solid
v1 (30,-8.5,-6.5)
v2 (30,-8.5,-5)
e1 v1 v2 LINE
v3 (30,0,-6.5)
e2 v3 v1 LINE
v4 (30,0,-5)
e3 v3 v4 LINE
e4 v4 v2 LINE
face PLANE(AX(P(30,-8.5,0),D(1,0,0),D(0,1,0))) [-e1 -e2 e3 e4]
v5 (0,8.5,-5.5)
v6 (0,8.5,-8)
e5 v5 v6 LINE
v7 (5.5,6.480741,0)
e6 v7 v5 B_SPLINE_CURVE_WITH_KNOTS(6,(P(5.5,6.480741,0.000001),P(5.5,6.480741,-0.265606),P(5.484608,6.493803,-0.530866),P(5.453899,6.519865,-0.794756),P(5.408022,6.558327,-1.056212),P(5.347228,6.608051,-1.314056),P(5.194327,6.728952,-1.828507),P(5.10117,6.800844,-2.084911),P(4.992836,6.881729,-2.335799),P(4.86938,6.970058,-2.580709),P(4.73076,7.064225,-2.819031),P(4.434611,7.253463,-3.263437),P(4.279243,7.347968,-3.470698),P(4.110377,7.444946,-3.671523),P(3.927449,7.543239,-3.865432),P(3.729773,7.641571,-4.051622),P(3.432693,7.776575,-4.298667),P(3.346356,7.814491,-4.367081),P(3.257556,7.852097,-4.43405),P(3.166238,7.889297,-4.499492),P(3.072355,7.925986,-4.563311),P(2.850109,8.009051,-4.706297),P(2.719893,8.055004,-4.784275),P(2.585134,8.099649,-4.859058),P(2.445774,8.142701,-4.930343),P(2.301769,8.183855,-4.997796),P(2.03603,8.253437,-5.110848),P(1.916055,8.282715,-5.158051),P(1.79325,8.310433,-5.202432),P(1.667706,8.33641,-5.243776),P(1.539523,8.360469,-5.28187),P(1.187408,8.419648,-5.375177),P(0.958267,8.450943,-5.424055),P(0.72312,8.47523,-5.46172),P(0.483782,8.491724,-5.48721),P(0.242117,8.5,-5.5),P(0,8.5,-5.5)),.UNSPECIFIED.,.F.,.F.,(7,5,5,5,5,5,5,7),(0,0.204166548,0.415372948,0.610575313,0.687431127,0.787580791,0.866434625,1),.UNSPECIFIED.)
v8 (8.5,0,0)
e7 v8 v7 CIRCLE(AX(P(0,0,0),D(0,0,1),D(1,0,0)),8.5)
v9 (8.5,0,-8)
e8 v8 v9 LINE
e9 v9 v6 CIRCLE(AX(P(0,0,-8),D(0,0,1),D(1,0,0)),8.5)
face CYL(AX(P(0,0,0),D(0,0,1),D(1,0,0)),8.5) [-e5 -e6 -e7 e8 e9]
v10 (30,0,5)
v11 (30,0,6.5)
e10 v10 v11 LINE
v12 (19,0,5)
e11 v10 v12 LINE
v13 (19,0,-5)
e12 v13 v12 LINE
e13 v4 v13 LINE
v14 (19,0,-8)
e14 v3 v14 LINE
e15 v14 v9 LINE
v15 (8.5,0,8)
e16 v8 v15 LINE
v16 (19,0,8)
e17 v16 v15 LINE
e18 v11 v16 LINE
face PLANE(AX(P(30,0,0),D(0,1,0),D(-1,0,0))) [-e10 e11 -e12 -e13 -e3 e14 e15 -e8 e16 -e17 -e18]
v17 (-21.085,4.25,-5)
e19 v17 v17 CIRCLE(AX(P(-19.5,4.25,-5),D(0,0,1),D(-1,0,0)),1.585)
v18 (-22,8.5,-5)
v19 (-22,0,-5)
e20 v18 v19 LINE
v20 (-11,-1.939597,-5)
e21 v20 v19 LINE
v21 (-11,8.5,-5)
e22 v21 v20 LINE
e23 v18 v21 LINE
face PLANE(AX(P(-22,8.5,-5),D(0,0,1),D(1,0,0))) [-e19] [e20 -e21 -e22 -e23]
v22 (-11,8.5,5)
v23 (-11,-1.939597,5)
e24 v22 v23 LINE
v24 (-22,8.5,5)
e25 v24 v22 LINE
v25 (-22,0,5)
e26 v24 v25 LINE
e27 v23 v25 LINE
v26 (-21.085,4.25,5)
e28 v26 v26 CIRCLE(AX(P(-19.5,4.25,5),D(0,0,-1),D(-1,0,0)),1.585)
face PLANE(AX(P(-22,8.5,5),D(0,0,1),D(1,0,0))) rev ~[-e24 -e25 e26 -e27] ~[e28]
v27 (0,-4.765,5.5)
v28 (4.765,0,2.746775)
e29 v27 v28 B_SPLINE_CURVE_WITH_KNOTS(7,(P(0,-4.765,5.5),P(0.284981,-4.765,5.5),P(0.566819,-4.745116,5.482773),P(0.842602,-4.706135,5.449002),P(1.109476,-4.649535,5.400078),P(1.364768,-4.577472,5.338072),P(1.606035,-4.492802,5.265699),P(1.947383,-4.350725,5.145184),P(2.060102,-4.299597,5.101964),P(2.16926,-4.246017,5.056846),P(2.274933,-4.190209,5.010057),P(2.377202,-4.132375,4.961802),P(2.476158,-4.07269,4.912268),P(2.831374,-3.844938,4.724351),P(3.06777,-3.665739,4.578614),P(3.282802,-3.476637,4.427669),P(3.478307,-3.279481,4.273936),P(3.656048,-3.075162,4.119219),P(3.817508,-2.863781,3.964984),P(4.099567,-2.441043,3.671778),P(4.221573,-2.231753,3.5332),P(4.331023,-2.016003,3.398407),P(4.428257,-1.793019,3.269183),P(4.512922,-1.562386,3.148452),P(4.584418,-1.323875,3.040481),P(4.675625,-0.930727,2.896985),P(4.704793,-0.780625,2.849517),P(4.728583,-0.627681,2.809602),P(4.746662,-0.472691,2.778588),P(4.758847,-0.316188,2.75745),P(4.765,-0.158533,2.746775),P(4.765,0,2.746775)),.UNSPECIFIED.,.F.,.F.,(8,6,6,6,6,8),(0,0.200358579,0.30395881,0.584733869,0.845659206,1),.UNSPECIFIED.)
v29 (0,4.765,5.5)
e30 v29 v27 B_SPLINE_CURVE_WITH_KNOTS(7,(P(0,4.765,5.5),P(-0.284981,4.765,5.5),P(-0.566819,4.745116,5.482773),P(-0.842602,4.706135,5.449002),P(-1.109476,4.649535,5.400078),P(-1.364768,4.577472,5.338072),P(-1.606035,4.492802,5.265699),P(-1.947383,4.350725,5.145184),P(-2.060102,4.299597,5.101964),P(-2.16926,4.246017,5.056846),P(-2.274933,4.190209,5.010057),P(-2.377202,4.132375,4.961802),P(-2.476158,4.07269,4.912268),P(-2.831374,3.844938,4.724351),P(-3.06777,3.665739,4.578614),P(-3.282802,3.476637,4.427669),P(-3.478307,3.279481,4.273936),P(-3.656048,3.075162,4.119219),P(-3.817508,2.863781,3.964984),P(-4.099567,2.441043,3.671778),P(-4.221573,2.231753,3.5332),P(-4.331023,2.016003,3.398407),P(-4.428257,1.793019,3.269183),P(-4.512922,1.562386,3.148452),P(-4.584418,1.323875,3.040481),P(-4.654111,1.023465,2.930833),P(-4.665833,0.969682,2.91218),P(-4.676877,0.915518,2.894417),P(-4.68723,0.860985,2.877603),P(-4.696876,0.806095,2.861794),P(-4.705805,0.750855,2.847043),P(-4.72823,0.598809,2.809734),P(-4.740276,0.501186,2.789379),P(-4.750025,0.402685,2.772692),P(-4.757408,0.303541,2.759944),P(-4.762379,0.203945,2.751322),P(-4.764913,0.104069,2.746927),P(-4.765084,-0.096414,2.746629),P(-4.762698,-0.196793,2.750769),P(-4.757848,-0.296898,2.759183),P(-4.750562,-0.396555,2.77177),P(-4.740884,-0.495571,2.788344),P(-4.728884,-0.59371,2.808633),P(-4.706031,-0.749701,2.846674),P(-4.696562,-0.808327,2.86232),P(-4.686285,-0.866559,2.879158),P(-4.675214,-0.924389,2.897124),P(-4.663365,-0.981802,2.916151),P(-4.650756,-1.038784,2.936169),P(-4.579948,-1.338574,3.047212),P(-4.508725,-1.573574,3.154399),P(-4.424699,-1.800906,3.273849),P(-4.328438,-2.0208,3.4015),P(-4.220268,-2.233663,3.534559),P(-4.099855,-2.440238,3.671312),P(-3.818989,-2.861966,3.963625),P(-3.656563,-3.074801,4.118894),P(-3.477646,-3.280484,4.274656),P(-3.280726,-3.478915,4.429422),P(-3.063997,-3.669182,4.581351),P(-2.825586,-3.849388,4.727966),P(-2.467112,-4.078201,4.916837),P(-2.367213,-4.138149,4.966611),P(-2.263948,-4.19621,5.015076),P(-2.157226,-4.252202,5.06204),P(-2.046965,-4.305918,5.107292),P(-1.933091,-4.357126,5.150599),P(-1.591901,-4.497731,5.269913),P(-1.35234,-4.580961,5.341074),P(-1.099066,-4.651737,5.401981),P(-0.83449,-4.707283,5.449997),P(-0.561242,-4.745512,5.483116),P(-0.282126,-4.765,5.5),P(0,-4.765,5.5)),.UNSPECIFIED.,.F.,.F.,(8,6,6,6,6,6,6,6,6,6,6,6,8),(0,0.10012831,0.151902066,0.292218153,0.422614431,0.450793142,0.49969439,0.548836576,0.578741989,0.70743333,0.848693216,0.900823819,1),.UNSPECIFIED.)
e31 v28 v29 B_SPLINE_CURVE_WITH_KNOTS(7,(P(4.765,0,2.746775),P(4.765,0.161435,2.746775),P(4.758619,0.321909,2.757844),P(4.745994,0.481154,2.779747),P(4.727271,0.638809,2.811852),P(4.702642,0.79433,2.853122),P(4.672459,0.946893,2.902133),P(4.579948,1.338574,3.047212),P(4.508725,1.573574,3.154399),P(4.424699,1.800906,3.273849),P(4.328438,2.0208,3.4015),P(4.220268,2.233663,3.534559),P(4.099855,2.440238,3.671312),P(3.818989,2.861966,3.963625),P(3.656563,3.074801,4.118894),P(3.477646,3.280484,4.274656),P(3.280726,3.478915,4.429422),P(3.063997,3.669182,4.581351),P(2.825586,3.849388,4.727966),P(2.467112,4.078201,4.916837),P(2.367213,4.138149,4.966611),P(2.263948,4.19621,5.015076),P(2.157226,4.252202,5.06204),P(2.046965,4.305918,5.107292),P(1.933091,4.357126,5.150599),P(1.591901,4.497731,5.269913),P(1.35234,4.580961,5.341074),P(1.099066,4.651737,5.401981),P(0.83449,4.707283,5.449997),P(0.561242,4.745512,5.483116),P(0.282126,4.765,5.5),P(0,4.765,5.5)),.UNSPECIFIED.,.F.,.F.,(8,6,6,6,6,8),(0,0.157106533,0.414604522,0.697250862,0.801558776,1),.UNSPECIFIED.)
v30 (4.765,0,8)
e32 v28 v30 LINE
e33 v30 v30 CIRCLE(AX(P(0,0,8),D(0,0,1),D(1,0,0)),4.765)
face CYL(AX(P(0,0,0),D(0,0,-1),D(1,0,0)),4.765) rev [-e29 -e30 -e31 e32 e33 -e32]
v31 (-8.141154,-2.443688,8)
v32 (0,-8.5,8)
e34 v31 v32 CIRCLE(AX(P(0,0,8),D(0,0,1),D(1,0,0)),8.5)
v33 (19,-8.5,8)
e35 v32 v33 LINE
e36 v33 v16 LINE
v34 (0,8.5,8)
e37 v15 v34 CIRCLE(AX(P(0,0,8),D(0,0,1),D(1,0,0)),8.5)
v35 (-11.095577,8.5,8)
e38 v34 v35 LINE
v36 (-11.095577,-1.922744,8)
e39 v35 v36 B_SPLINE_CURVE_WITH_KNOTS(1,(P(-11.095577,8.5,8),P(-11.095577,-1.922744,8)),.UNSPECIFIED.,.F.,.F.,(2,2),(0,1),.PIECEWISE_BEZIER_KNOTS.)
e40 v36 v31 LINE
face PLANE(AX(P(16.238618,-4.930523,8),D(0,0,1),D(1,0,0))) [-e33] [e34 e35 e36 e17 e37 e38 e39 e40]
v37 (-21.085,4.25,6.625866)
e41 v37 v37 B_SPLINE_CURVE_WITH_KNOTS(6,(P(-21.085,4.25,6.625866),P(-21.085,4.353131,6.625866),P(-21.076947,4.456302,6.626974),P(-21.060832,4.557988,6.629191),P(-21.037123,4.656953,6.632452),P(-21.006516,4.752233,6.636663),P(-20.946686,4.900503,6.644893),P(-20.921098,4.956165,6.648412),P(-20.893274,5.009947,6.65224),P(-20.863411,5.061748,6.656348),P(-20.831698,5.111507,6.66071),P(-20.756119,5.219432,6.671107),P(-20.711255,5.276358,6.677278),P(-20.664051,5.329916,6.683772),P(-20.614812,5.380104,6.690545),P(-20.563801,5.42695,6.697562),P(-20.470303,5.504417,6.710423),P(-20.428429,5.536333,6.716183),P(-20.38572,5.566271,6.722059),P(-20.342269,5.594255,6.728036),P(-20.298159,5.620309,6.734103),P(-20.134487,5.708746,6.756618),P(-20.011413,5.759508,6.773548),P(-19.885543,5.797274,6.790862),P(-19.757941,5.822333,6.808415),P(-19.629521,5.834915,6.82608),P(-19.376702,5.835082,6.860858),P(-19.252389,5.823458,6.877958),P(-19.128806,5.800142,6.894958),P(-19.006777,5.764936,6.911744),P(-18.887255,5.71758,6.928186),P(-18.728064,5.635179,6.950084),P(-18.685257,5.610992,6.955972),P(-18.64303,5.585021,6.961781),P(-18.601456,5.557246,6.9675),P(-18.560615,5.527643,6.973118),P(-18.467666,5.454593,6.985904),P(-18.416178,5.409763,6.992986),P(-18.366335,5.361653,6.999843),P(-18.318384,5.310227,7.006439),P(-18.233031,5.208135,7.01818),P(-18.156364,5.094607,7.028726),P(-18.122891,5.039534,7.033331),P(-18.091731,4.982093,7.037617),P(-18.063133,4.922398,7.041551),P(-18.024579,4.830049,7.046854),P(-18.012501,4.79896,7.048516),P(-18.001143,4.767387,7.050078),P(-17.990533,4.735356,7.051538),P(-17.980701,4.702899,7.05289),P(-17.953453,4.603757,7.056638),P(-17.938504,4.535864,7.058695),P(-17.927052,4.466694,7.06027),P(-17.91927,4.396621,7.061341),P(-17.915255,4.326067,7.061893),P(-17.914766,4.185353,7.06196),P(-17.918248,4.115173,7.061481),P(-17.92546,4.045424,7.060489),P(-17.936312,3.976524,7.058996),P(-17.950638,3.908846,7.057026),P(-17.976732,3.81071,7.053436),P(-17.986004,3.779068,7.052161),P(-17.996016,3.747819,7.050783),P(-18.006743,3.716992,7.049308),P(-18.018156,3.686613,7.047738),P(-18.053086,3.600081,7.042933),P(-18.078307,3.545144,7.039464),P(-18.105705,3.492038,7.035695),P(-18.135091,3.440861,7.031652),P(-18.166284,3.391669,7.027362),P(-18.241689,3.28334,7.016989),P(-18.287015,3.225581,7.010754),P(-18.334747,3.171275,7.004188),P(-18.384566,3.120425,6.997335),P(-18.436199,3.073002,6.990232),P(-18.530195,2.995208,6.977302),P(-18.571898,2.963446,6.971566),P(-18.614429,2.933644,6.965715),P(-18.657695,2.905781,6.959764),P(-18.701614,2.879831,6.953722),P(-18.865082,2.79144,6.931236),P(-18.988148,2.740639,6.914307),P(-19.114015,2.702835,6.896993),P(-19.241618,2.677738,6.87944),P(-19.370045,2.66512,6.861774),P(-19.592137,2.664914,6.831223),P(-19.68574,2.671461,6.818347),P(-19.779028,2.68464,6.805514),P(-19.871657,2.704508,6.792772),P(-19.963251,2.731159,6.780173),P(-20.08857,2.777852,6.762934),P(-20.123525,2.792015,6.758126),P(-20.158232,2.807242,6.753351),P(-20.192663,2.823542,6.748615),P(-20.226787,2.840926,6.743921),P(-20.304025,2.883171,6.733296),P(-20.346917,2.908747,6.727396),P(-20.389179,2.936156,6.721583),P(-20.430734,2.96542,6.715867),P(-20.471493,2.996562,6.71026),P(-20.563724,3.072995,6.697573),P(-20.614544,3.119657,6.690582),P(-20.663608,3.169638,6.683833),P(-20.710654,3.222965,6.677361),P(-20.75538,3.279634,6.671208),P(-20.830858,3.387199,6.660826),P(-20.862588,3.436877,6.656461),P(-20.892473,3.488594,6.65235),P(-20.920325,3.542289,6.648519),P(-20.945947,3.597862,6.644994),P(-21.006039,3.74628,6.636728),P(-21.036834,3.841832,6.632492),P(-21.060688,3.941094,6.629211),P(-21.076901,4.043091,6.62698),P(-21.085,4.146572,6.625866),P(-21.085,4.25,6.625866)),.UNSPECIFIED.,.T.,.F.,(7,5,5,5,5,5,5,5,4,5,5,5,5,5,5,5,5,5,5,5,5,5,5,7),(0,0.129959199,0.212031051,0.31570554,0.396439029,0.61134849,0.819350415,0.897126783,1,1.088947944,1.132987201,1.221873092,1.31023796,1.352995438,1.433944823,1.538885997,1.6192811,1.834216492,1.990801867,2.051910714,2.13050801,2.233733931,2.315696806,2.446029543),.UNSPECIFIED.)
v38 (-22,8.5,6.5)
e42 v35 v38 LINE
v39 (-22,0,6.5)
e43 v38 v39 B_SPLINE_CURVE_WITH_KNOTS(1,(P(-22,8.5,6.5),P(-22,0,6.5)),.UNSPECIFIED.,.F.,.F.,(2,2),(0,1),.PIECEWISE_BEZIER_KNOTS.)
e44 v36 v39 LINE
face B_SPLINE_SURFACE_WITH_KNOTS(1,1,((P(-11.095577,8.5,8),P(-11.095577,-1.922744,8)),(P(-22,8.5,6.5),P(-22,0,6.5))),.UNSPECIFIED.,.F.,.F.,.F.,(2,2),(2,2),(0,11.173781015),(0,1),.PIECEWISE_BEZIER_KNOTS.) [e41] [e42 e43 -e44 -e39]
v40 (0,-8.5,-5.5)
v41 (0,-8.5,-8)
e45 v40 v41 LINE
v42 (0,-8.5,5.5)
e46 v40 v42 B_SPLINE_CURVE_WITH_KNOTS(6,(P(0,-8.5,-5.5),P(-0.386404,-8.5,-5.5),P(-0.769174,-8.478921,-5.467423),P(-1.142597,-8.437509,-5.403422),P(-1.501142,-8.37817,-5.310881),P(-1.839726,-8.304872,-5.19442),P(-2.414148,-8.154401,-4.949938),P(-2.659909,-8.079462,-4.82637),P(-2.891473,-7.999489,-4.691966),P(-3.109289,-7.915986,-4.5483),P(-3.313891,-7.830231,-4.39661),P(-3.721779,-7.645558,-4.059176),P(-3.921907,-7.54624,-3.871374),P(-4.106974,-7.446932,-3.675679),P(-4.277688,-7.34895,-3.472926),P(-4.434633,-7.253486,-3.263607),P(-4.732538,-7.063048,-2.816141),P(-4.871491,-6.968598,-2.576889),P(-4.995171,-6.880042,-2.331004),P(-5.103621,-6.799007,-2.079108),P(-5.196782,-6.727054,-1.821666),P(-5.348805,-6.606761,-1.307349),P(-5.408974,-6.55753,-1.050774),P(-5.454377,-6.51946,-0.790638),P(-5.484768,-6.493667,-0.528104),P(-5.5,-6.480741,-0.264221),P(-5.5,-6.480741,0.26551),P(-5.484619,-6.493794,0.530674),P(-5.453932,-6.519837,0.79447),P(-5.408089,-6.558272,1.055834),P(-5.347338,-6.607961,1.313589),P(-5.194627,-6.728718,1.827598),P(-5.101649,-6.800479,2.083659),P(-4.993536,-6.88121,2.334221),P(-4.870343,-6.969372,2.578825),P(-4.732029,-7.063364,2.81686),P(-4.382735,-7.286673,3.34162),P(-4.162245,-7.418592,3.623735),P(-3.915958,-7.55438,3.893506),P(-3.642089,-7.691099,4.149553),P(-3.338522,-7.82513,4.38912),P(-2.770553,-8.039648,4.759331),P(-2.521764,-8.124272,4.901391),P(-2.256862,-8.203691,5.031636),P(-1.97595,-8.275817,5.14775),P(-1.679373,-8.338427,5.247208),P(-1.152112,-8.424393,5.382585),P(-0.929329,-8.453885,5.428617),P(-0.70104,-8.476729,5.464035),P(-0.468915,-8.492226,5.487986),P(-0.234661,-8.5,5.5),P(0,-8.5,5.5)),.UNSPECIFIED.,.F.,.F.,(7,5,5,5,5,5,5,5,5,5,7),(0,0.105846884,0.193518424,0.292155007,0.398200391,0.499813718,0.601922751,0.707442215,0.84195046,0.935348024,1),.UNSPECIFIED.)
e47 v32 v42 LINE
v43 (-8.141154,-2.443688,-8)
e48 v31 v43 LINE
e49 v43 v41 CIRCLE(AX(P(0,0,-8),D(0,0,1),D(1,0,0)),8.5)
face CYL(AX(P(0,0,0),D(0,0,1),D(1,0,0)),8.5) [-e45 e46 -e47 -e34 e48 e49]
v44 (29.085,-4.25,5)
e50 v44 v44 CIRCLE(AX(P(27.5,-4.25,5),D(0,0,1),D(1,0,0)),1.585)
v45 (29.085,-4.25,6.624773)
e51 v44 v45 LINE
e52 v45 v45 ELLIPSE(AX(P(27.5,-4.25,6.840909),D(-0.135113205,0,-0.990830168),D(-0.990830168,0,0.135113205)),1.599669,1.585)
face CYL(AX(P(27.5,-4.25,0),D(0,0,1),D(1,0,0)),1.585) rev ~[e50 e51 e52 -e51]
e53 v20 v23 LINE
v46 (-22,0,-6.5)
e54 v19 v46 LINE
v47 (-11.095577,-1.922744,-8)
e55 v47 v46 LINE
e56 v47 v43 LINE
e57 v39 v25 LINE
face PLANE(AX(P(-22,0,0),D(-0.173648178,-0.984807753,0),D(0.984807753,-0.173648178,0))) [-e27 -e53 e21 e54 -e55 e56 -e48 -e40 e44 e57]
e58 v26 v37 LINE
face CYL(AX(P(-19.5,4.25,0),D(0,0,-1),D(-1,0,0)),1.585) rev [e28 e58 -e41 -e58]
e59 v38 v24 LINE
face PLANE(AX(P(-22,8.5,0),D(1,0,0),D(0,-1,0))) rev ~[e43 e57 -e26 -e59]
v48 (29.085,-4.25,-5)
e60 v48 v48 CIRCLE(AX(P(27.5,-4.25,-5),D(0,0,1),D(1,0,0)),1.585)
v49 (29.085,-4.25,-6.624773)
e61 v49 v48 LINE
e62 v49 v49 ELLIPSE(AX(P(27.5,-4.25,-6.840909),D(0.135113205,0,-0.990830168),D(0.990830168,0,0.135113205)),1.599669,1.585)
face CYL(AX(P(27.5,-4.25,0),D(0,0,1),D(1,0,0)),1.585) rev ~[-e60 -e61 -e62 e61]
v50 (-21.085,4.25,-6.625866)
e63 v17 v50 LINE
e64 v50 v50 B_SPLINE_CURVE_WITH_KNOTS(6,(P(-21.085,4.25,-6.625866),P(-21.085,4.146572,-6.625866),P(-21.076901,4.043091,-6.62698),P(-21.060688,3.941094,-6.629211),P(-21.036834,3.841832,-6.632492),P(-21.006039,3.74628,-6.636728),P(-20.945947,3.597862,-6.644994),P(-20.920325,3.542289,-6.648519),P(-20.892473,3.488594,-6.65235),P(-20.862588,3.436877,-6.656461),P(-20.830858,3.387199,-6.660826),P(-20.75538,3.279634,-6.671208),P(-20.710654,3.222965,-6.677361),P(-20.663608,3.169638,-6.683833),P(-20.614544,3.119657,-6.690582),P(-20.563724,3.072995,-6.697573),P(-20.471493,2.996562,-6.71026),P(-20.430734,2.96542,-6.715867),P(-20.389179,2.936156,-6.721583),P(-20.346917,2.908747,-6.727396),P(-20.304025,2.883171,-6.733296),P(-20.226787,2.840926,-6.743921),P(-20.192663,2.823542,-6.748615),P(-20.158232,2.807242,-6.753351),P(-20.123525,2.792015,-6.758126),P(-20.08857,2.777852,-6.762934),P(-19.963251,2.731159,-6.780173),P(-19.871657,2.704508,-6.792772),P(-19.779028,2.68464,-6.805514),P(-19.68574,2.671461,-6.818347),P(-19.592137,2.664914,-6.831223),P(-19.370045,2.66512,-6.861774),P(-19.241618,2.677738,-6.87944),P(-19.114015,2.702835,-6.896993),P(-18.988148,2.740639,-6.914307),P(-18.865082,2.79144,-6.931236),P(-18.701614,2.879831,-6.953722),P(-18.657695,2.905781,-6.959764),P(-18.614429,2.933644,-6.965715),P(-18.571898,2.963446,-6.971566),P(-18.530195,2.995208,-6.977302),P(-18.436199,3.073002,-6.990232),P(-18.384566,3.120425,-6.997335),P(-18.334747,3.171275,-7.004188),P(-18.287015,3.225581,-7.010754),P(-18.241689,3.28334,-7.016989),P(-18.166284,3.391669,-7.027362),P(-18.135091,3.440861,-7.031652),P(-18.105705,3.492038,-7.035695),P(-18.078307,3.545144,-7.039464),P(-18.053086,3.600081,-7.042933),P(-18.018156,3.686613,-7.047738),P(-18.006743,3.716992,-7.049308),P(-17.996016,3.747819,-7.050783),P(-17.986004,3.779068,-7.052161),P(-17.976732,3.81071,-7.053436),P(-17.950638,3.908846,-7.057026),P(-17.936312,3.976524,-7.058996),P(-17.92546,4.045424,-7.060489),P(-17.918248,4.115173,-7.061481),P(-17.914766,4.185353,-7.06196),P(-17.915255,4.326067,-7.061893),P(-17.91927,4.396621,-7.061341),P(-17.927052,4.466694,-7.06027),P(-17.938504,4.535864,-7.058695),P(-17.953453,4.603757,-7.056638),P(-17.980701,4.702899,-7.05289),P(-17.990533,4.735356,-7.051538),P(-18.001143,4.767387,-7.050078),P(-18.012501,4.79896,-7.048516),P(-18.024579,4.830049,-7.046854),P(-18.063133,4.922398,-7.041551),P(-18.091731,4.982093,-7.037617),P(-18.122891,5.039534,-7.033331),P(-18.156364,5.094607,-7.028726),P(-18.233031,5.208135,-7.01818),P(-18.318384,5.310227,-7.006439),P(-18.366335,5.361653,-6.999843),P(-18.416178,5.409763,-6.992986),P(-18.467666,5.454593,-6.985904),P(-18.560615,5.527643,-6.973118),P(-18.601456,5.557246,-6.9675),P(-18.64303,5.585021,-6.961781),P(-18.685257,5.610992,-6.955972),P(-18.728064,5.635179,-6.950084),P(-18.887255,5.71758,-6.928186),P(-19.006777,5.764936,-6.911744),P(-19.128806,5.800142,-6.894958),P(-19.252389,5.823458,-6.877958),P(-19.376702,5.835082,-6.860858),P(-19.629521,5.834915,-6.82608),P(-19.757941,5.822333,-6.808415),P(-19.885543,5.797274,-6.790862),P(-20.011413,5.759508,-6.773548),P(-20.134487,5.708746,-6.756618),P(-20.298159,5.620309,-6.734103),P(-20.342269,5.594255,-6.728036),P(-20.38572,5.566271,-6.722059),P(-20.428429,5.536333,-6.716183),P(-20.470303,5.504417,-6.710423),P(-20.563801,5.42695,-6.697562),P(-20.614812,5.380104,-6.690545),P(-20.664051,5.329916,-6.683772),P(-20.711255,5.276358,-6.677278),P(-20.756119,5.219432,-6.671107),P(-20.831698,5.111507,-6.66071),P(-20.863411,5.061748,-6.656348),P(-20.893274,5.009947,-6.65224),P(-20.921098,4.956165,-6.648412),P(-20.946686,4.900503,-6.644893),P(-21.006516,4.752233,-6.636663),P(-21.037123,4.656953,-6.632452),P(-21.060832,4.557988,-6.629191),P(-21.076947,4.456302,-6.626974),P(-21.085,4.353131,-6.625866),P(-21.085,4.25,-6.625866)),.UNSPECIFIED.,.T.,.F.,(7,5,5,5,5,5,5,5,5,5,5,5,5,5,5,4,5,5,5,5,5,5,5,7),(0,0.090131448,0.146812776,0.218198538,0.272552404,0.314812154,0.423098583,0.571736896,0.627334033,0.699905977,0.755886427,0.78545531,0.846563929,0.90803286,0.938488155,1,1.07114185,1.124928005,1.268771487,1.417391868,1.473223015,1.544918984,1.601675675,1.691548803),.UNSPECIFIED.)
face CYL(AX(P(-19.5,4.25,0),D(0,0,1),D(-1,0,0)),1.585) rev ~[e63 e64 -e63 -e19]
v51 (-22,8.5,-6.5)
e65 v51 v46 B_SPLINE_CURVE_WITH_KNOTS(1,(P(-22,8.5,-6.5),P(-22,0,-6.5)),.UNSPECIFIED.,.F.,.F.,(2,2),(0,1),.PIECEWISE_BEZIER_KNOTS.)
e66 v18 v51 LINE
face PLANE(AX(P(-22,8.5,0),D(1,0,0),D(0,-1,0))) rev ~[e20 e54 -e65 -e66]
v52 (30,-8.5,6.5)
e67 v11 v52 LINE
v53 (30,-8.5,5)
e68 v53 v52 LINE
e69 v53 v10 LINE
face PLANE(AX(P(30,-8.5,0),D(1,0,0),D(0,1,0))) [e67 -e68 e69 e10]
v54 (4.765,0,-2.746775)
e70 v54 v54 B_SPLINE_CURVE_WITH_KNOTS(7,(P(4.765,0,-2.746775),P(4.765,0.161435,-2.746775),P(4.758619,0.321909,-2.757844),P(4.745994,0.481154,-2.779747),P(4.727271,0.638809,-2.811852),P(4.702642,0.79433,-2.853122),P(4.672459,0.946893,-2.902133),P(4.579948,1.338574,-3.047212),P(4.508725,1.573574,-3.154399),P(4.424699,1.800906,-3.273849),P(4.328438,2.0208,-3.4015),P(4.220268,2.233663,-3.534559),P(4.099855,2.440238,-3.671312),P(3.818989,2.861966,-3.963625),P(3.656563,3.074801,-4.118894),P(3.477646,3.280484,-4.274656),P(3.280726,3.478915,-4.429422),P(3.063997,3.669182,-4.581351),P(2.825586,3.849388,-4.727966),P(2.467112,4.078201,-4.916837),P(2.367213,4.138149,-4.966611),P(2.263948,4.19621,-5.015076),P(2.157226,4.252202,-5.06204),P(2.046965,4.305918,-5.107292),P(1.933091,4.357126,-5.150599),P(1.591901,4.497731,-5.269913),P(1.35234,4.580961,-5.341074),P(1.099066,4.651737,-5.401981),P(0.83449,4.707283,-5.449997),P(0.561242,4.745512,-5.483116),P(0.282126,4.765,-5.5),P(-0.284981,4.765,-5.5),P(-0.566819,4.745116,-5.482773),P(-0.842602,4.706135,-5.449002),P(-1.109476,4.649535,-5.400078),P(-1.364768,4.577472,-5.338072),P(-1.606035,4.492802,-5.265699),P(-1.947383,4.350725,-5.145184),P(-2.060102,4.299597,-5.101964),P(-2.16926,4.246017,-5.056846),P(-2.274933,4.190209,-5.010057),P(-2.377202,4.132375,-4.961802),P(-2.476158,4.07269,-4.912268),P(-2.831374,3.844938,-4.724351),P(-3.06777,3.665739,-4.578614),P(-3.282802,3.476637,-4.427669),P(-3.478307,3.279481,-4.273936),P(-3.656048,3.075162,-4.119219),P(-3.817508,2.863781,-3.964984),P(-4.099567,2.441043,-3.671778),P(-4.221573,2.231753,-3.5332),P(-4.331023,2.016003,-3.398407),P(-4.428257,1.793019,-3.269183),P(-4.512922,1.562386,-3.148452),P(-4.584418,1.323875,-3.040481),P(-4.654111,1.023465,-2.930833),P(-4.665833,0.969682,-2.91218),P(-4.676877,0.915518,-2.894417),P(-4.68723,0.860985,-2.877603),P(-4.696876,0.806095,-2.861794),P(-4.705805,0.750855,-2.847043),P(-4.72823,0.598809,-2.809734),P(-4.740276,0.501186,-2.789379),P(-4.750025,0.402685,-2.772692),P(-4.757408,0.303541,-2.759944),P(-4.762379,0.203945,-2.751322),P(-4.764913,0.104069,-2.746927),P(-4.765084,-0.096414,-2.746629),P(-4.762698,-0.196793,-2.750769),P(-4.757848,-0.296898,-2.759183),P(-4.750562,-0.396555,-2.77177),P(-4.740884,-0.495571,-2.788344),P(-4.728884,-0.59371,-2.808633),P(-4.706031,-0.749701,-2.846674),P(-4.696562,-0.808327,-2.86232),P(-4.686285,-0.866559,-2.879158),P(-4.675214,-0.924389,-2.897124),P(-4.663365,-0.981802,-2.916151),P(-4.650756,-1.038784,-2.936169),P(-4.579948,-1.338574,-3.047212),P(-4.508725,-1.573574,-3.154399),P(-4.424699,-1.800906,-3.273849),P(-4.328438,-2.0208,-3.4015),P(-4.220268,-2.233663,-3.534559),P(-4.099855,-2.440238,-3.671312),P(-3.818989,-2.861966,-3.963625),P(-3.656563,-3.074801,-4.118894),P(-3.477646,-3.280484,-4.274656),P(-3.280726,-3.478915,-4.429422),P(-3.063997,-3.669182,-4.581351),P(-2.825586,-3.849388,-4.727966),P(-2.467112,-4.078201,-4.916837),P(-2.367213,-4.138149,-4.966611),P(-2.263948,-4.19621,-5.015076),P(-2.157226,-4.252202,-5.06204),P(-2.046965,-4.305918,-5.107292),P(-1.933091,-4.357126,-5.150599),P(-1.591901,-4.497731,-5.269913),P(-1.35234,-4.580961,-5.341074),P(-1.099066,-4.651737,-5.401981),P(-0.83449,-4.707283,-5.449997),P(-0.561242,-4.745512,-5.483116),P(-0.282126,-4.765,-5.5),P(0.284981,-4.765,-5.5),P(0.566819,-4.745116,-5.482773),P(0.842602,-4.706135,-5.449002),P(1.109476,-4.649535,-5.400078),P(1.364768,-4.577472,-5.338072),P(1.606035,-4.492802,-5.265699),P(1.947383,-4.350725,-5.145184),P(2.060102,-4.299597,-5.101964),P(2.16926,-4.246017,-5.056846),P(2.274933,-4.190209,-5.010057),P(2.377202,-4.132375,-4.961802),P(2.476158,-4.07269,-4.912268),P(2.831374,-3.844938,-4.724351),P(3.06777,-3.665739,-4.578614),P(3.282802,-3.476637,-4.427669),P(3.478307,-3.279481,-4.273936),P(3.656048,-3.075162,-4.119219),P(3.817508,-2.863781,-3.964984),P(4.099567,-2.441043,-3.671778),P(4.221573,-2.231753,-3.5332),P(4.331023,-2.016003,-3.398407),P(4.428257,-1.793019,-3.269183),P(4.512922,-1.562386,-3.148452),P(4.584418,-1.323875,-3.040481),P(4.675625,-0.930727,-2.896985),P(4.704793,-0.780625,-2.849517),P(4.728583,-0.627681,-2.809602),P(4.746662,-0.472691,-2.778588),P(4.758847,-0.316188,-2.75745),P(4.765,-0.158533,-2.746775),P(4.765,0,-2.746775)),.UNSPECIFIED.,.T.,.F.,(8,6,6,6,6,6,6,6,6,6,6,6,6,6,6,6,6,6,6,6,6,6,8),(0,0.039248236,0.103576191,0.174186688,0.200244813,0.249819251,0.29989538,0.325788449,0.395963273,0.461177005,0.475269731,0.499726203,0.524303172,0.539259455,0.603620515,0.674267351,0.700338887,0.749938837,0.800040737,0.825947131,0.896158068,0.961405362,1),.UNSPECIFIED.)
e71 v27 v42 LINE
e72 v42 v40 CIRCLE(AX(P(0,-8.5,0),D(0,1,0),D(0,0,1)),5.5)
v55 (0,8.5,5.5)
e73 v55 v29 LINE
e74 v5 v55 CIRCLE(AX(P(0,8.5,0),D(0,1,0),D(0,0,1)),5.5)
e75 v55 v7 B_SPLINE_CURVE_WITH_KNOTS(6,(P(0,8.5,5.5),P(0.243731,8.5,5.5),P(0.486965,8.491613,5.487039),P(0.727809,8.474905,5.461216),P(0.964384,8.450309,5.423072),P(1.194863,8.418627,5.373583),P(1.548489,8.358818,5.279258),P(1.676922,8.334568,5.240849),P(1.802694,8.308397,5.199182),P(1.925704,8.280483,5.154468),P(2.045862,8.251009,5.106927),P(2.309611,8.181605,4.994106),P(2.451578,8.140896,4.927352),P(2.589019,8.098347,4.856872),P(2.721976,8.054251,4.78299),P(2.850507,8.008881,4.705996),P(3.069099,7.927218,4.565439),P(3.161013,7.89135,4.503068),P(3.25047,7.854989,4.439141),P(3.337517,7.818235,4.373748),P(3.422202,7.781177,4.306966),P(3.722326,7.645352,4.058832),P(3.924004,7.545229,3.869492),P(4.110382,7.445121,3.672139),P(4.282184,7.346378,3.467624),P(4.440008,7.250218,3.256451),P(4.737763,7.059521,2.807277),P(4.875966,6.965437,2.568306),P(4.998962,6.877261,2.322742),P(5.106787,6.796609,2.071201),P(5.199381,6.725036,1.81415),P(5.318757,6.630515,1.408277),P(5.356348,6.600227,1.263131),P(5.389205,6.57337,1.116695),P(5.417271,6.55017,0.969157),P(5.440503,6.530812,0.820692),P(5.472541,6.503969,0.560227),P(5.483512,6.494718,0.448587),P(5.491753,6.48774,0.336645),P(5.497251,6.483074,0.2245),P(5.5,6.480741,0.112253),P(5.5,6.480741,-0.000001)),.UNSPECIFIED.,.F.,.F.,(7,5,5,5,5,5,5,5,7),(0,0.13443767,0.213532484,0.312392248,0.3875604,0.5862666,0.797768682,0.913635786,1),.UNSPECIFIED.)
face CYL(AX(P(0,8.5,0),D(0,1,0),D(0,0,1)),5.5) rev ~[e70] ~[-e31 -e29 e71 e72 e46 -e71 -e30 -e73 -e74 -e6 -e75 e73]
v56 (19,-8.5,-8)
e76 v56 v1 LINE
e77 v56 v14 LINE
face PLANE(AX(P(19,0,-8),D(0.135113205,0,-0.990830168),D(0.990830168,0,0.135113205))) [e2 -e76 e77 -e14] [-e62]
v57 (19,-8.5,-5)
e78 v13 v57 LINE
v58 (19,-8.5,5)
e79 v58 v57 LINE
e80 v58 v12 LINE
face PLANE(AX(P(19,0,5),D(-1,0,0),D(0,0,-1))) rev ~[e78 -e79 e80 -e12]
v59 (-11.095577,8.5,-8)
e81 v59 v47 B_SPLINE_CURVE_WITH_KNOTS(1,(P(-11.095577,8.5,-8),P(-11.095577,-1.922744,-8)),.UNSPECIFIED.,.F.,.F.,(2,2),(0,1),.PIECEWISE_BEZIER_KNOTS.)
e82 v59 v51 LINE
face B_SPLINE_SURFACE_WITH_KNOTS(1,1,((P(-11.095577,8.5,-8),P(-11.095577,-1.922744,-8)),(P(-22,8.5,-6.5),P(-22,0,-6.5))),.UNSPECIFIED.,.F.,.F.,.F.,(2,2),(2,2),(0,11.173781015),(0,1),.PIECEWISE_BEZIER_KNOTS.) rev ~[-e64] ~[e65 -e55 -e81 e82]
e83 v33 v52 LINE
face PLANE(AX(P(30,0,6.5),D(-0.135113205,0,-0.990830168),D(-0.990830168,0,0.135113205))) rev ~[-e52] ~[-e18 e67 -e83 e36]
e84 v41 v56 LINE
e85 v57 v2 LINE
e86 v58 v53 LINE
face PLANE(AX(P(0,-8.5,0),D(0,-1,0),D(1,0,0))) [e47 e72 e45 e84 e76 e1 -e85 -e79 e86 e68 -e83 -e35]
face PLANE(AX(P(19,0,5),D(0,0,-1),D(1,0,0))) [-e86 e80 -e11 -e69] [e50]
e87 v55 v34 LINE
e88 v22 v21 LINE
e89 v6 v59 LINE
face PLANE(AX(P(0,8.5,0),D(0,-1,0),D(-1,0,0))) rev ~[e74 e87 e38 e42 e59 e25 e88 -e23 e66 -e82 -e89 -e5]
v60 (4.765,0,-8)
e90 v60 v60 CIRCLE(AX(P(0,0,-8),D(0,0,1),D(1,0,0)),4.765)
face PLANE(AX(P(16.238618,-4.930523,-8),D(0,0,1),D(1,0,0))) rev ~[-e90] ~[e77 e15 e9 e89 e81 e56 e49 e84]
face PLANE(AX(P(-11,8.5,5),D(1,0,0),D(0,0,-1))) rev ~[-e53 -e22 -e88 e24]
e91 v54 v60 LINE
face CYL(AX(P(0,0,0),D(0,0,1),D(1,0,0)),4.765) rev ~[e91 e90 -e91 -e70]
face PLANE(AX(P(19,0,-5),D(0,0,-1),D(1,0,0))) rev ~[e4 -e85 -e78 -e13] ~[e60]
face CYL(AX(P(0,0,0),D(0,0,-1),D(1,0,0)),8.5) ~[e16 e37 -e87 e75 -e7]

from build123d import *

# Parameters (mm, degrees)
SKETCH1_R           = 8.5
SKETCH1_R_2         = 4.765
BOSS_EXTRUDE1_DEPTH = 8
SKETCH2_R           = 5.5
CUT_EXTRUDE1_DEPTH  = 36.397740041
SKETCH7_W           = 11
SKETCH7_H           = 10
CUT_EXTRUDE3_DEPTH  = 16
SKETCH14_R          = 1.585
CUT_EXTRUDE5_DEPTH  = 22
SKETCH15_W          = 11
SKETCH15_H          = 10
CUT_EXTRUDE6_DEPTH  = 22


with BuildPart() as part:
    # Sketch1 → Boss-Extrude1 (new, symmetric)
    # profile 1 of 3: a face of its own
    with BuildSketch(Plane.XY):
        with BuildLine():
            Line((-22, 0), (-8.141153884, -2.443688492))
            ThreePointArc((-8.141153884, -2.443688492), (-6.819873612, 5.073393727), (0, 8.5))
            Line((0, 8.5), (-22, 8.5))
            Line((-22, 8.5), (-22, 0))
        make_face()
    # profile 2 of 3: a face of its own
    with BuildSketch(Plane.XY):
        Circle(SKETCH1_R)
        Circle(SKETCH1_R_2, mode=Mode.SUBTRACT)
    # profile 3 of 3: a face of its own
    with BuildSketch(Plane.XY):
        with BuildLine():
            ThreePointArc((8.5, 0), (6.01040764, -6.01040764), (0, -8.5))
            Line((0, -8.5), (30, -8.5))
            Line((30, -8.5), (30, 0))
            Line((30, 0), (8.5, 0))
        make_face()
    extrude(amount=BOSS_EXTRUDE1_DEPTH, both=True)

    # Sketch2 → Cut-Extrude1 (cut, through all)
    with BuildSketch(Plane(origin=(0, 8.5, 0), x_dir=(1, 0, 0), z_dir=(0, 1, 0))):
        with Locations(Location((0, 0, 0), (0, 0, 270))):
            Circle(SKETCH2_R)
    extrude(amount=-CUT_EXTRUDE1_DEPTH, mode=Mode.SUBTRACT)

    # Sketch7 → Cut-Extrude3 (cut)
    with BuildSketch(Plane(origin=(0, 8.5, 0), x_dir=(1, 0, 0), z_dir=(0, 1, 0))):
        with Locations((-16.5, 0)):
            Rectangle(SKETCH7_W, SKETCH7_H)
    extrude(amount=-CUT_EXTRUDE3_DEPTH, mode=Mode.SUBTRACT)

    # Sketch13 → Cut-Loft6 section 0
    with BuildSketch(Plane(origin=(0, 8.5, 0), x_dir=(1, 0, 0), z_dir=(0, 1, 0))):
        with BuildLine():
            Line((-22, -6.5), (-22, -8))
            Line((-22, -8), (-11.095577143, -8))
            Line((-11.095577143, -8), (-22, -6.5))
        make_face()
    # Sketch12 → Cut-Loft6 section 1
    with BuildSketch(Plane(origin=(-0.663381171, -3.762221577, 0), x_dir=(0.9848077530122088, -0.17364817766692656, 0), z_dir=(-0.17364817766692653, -0.9848077530122087, 0))):
        with BuildLine():
            Line((-10.59312941, 8), (-21.665770566, 6.5))
            Line((-21.665770566, 6.5), (-21.665770566, 8))
            Line((-21.665770566, 8), (-10.59312941, 8))
        make_face()
    cut_loft6 = loft(mode=Mode.SUBTRACT)

    # Mirror1: Cut-Loft6 across plane
    add(cut_loft6.mirror(Plane.XY), mode=Mode.SUBTRACT)

    # Sketch14 → Cut-Extrude5 (cut, symmetric)
    with BuildSketch(Plane.XY):
        with Locations(Location((-19.5, 4.25, 0), (0, 0, 180))):
            Circle(SKETCH14_R)
        with Locations((27.5, -4.25)):
            Circle(SKETCH14_R)
    extrude(amount=CUT_EXTRUDE5_DEPTH, both=True, mode=Mode.SUBTRACT)

    # Sketch15 → Cut-Extrude6 (cut, symmetric)
    with BuildSketch(Plane(origin=(0, 0, 0), x_dir=(1, 0, 0), z_dir=(0, 1, 0))):
        Polygon((30, 8), (19, 8), (30, 6.5), align=None)
        with Locations((24.5, 0)):
            Rectangle(SKETCH15_W, SKETCH15_H)
        Polygon((30, -6.5), (19, -8), (30, -8), align=None)
    extrude(amount=CUT_EXTRUDE6_DEPTH, both=True, mode=Mode.SUBTRACT)


solid = part.part
